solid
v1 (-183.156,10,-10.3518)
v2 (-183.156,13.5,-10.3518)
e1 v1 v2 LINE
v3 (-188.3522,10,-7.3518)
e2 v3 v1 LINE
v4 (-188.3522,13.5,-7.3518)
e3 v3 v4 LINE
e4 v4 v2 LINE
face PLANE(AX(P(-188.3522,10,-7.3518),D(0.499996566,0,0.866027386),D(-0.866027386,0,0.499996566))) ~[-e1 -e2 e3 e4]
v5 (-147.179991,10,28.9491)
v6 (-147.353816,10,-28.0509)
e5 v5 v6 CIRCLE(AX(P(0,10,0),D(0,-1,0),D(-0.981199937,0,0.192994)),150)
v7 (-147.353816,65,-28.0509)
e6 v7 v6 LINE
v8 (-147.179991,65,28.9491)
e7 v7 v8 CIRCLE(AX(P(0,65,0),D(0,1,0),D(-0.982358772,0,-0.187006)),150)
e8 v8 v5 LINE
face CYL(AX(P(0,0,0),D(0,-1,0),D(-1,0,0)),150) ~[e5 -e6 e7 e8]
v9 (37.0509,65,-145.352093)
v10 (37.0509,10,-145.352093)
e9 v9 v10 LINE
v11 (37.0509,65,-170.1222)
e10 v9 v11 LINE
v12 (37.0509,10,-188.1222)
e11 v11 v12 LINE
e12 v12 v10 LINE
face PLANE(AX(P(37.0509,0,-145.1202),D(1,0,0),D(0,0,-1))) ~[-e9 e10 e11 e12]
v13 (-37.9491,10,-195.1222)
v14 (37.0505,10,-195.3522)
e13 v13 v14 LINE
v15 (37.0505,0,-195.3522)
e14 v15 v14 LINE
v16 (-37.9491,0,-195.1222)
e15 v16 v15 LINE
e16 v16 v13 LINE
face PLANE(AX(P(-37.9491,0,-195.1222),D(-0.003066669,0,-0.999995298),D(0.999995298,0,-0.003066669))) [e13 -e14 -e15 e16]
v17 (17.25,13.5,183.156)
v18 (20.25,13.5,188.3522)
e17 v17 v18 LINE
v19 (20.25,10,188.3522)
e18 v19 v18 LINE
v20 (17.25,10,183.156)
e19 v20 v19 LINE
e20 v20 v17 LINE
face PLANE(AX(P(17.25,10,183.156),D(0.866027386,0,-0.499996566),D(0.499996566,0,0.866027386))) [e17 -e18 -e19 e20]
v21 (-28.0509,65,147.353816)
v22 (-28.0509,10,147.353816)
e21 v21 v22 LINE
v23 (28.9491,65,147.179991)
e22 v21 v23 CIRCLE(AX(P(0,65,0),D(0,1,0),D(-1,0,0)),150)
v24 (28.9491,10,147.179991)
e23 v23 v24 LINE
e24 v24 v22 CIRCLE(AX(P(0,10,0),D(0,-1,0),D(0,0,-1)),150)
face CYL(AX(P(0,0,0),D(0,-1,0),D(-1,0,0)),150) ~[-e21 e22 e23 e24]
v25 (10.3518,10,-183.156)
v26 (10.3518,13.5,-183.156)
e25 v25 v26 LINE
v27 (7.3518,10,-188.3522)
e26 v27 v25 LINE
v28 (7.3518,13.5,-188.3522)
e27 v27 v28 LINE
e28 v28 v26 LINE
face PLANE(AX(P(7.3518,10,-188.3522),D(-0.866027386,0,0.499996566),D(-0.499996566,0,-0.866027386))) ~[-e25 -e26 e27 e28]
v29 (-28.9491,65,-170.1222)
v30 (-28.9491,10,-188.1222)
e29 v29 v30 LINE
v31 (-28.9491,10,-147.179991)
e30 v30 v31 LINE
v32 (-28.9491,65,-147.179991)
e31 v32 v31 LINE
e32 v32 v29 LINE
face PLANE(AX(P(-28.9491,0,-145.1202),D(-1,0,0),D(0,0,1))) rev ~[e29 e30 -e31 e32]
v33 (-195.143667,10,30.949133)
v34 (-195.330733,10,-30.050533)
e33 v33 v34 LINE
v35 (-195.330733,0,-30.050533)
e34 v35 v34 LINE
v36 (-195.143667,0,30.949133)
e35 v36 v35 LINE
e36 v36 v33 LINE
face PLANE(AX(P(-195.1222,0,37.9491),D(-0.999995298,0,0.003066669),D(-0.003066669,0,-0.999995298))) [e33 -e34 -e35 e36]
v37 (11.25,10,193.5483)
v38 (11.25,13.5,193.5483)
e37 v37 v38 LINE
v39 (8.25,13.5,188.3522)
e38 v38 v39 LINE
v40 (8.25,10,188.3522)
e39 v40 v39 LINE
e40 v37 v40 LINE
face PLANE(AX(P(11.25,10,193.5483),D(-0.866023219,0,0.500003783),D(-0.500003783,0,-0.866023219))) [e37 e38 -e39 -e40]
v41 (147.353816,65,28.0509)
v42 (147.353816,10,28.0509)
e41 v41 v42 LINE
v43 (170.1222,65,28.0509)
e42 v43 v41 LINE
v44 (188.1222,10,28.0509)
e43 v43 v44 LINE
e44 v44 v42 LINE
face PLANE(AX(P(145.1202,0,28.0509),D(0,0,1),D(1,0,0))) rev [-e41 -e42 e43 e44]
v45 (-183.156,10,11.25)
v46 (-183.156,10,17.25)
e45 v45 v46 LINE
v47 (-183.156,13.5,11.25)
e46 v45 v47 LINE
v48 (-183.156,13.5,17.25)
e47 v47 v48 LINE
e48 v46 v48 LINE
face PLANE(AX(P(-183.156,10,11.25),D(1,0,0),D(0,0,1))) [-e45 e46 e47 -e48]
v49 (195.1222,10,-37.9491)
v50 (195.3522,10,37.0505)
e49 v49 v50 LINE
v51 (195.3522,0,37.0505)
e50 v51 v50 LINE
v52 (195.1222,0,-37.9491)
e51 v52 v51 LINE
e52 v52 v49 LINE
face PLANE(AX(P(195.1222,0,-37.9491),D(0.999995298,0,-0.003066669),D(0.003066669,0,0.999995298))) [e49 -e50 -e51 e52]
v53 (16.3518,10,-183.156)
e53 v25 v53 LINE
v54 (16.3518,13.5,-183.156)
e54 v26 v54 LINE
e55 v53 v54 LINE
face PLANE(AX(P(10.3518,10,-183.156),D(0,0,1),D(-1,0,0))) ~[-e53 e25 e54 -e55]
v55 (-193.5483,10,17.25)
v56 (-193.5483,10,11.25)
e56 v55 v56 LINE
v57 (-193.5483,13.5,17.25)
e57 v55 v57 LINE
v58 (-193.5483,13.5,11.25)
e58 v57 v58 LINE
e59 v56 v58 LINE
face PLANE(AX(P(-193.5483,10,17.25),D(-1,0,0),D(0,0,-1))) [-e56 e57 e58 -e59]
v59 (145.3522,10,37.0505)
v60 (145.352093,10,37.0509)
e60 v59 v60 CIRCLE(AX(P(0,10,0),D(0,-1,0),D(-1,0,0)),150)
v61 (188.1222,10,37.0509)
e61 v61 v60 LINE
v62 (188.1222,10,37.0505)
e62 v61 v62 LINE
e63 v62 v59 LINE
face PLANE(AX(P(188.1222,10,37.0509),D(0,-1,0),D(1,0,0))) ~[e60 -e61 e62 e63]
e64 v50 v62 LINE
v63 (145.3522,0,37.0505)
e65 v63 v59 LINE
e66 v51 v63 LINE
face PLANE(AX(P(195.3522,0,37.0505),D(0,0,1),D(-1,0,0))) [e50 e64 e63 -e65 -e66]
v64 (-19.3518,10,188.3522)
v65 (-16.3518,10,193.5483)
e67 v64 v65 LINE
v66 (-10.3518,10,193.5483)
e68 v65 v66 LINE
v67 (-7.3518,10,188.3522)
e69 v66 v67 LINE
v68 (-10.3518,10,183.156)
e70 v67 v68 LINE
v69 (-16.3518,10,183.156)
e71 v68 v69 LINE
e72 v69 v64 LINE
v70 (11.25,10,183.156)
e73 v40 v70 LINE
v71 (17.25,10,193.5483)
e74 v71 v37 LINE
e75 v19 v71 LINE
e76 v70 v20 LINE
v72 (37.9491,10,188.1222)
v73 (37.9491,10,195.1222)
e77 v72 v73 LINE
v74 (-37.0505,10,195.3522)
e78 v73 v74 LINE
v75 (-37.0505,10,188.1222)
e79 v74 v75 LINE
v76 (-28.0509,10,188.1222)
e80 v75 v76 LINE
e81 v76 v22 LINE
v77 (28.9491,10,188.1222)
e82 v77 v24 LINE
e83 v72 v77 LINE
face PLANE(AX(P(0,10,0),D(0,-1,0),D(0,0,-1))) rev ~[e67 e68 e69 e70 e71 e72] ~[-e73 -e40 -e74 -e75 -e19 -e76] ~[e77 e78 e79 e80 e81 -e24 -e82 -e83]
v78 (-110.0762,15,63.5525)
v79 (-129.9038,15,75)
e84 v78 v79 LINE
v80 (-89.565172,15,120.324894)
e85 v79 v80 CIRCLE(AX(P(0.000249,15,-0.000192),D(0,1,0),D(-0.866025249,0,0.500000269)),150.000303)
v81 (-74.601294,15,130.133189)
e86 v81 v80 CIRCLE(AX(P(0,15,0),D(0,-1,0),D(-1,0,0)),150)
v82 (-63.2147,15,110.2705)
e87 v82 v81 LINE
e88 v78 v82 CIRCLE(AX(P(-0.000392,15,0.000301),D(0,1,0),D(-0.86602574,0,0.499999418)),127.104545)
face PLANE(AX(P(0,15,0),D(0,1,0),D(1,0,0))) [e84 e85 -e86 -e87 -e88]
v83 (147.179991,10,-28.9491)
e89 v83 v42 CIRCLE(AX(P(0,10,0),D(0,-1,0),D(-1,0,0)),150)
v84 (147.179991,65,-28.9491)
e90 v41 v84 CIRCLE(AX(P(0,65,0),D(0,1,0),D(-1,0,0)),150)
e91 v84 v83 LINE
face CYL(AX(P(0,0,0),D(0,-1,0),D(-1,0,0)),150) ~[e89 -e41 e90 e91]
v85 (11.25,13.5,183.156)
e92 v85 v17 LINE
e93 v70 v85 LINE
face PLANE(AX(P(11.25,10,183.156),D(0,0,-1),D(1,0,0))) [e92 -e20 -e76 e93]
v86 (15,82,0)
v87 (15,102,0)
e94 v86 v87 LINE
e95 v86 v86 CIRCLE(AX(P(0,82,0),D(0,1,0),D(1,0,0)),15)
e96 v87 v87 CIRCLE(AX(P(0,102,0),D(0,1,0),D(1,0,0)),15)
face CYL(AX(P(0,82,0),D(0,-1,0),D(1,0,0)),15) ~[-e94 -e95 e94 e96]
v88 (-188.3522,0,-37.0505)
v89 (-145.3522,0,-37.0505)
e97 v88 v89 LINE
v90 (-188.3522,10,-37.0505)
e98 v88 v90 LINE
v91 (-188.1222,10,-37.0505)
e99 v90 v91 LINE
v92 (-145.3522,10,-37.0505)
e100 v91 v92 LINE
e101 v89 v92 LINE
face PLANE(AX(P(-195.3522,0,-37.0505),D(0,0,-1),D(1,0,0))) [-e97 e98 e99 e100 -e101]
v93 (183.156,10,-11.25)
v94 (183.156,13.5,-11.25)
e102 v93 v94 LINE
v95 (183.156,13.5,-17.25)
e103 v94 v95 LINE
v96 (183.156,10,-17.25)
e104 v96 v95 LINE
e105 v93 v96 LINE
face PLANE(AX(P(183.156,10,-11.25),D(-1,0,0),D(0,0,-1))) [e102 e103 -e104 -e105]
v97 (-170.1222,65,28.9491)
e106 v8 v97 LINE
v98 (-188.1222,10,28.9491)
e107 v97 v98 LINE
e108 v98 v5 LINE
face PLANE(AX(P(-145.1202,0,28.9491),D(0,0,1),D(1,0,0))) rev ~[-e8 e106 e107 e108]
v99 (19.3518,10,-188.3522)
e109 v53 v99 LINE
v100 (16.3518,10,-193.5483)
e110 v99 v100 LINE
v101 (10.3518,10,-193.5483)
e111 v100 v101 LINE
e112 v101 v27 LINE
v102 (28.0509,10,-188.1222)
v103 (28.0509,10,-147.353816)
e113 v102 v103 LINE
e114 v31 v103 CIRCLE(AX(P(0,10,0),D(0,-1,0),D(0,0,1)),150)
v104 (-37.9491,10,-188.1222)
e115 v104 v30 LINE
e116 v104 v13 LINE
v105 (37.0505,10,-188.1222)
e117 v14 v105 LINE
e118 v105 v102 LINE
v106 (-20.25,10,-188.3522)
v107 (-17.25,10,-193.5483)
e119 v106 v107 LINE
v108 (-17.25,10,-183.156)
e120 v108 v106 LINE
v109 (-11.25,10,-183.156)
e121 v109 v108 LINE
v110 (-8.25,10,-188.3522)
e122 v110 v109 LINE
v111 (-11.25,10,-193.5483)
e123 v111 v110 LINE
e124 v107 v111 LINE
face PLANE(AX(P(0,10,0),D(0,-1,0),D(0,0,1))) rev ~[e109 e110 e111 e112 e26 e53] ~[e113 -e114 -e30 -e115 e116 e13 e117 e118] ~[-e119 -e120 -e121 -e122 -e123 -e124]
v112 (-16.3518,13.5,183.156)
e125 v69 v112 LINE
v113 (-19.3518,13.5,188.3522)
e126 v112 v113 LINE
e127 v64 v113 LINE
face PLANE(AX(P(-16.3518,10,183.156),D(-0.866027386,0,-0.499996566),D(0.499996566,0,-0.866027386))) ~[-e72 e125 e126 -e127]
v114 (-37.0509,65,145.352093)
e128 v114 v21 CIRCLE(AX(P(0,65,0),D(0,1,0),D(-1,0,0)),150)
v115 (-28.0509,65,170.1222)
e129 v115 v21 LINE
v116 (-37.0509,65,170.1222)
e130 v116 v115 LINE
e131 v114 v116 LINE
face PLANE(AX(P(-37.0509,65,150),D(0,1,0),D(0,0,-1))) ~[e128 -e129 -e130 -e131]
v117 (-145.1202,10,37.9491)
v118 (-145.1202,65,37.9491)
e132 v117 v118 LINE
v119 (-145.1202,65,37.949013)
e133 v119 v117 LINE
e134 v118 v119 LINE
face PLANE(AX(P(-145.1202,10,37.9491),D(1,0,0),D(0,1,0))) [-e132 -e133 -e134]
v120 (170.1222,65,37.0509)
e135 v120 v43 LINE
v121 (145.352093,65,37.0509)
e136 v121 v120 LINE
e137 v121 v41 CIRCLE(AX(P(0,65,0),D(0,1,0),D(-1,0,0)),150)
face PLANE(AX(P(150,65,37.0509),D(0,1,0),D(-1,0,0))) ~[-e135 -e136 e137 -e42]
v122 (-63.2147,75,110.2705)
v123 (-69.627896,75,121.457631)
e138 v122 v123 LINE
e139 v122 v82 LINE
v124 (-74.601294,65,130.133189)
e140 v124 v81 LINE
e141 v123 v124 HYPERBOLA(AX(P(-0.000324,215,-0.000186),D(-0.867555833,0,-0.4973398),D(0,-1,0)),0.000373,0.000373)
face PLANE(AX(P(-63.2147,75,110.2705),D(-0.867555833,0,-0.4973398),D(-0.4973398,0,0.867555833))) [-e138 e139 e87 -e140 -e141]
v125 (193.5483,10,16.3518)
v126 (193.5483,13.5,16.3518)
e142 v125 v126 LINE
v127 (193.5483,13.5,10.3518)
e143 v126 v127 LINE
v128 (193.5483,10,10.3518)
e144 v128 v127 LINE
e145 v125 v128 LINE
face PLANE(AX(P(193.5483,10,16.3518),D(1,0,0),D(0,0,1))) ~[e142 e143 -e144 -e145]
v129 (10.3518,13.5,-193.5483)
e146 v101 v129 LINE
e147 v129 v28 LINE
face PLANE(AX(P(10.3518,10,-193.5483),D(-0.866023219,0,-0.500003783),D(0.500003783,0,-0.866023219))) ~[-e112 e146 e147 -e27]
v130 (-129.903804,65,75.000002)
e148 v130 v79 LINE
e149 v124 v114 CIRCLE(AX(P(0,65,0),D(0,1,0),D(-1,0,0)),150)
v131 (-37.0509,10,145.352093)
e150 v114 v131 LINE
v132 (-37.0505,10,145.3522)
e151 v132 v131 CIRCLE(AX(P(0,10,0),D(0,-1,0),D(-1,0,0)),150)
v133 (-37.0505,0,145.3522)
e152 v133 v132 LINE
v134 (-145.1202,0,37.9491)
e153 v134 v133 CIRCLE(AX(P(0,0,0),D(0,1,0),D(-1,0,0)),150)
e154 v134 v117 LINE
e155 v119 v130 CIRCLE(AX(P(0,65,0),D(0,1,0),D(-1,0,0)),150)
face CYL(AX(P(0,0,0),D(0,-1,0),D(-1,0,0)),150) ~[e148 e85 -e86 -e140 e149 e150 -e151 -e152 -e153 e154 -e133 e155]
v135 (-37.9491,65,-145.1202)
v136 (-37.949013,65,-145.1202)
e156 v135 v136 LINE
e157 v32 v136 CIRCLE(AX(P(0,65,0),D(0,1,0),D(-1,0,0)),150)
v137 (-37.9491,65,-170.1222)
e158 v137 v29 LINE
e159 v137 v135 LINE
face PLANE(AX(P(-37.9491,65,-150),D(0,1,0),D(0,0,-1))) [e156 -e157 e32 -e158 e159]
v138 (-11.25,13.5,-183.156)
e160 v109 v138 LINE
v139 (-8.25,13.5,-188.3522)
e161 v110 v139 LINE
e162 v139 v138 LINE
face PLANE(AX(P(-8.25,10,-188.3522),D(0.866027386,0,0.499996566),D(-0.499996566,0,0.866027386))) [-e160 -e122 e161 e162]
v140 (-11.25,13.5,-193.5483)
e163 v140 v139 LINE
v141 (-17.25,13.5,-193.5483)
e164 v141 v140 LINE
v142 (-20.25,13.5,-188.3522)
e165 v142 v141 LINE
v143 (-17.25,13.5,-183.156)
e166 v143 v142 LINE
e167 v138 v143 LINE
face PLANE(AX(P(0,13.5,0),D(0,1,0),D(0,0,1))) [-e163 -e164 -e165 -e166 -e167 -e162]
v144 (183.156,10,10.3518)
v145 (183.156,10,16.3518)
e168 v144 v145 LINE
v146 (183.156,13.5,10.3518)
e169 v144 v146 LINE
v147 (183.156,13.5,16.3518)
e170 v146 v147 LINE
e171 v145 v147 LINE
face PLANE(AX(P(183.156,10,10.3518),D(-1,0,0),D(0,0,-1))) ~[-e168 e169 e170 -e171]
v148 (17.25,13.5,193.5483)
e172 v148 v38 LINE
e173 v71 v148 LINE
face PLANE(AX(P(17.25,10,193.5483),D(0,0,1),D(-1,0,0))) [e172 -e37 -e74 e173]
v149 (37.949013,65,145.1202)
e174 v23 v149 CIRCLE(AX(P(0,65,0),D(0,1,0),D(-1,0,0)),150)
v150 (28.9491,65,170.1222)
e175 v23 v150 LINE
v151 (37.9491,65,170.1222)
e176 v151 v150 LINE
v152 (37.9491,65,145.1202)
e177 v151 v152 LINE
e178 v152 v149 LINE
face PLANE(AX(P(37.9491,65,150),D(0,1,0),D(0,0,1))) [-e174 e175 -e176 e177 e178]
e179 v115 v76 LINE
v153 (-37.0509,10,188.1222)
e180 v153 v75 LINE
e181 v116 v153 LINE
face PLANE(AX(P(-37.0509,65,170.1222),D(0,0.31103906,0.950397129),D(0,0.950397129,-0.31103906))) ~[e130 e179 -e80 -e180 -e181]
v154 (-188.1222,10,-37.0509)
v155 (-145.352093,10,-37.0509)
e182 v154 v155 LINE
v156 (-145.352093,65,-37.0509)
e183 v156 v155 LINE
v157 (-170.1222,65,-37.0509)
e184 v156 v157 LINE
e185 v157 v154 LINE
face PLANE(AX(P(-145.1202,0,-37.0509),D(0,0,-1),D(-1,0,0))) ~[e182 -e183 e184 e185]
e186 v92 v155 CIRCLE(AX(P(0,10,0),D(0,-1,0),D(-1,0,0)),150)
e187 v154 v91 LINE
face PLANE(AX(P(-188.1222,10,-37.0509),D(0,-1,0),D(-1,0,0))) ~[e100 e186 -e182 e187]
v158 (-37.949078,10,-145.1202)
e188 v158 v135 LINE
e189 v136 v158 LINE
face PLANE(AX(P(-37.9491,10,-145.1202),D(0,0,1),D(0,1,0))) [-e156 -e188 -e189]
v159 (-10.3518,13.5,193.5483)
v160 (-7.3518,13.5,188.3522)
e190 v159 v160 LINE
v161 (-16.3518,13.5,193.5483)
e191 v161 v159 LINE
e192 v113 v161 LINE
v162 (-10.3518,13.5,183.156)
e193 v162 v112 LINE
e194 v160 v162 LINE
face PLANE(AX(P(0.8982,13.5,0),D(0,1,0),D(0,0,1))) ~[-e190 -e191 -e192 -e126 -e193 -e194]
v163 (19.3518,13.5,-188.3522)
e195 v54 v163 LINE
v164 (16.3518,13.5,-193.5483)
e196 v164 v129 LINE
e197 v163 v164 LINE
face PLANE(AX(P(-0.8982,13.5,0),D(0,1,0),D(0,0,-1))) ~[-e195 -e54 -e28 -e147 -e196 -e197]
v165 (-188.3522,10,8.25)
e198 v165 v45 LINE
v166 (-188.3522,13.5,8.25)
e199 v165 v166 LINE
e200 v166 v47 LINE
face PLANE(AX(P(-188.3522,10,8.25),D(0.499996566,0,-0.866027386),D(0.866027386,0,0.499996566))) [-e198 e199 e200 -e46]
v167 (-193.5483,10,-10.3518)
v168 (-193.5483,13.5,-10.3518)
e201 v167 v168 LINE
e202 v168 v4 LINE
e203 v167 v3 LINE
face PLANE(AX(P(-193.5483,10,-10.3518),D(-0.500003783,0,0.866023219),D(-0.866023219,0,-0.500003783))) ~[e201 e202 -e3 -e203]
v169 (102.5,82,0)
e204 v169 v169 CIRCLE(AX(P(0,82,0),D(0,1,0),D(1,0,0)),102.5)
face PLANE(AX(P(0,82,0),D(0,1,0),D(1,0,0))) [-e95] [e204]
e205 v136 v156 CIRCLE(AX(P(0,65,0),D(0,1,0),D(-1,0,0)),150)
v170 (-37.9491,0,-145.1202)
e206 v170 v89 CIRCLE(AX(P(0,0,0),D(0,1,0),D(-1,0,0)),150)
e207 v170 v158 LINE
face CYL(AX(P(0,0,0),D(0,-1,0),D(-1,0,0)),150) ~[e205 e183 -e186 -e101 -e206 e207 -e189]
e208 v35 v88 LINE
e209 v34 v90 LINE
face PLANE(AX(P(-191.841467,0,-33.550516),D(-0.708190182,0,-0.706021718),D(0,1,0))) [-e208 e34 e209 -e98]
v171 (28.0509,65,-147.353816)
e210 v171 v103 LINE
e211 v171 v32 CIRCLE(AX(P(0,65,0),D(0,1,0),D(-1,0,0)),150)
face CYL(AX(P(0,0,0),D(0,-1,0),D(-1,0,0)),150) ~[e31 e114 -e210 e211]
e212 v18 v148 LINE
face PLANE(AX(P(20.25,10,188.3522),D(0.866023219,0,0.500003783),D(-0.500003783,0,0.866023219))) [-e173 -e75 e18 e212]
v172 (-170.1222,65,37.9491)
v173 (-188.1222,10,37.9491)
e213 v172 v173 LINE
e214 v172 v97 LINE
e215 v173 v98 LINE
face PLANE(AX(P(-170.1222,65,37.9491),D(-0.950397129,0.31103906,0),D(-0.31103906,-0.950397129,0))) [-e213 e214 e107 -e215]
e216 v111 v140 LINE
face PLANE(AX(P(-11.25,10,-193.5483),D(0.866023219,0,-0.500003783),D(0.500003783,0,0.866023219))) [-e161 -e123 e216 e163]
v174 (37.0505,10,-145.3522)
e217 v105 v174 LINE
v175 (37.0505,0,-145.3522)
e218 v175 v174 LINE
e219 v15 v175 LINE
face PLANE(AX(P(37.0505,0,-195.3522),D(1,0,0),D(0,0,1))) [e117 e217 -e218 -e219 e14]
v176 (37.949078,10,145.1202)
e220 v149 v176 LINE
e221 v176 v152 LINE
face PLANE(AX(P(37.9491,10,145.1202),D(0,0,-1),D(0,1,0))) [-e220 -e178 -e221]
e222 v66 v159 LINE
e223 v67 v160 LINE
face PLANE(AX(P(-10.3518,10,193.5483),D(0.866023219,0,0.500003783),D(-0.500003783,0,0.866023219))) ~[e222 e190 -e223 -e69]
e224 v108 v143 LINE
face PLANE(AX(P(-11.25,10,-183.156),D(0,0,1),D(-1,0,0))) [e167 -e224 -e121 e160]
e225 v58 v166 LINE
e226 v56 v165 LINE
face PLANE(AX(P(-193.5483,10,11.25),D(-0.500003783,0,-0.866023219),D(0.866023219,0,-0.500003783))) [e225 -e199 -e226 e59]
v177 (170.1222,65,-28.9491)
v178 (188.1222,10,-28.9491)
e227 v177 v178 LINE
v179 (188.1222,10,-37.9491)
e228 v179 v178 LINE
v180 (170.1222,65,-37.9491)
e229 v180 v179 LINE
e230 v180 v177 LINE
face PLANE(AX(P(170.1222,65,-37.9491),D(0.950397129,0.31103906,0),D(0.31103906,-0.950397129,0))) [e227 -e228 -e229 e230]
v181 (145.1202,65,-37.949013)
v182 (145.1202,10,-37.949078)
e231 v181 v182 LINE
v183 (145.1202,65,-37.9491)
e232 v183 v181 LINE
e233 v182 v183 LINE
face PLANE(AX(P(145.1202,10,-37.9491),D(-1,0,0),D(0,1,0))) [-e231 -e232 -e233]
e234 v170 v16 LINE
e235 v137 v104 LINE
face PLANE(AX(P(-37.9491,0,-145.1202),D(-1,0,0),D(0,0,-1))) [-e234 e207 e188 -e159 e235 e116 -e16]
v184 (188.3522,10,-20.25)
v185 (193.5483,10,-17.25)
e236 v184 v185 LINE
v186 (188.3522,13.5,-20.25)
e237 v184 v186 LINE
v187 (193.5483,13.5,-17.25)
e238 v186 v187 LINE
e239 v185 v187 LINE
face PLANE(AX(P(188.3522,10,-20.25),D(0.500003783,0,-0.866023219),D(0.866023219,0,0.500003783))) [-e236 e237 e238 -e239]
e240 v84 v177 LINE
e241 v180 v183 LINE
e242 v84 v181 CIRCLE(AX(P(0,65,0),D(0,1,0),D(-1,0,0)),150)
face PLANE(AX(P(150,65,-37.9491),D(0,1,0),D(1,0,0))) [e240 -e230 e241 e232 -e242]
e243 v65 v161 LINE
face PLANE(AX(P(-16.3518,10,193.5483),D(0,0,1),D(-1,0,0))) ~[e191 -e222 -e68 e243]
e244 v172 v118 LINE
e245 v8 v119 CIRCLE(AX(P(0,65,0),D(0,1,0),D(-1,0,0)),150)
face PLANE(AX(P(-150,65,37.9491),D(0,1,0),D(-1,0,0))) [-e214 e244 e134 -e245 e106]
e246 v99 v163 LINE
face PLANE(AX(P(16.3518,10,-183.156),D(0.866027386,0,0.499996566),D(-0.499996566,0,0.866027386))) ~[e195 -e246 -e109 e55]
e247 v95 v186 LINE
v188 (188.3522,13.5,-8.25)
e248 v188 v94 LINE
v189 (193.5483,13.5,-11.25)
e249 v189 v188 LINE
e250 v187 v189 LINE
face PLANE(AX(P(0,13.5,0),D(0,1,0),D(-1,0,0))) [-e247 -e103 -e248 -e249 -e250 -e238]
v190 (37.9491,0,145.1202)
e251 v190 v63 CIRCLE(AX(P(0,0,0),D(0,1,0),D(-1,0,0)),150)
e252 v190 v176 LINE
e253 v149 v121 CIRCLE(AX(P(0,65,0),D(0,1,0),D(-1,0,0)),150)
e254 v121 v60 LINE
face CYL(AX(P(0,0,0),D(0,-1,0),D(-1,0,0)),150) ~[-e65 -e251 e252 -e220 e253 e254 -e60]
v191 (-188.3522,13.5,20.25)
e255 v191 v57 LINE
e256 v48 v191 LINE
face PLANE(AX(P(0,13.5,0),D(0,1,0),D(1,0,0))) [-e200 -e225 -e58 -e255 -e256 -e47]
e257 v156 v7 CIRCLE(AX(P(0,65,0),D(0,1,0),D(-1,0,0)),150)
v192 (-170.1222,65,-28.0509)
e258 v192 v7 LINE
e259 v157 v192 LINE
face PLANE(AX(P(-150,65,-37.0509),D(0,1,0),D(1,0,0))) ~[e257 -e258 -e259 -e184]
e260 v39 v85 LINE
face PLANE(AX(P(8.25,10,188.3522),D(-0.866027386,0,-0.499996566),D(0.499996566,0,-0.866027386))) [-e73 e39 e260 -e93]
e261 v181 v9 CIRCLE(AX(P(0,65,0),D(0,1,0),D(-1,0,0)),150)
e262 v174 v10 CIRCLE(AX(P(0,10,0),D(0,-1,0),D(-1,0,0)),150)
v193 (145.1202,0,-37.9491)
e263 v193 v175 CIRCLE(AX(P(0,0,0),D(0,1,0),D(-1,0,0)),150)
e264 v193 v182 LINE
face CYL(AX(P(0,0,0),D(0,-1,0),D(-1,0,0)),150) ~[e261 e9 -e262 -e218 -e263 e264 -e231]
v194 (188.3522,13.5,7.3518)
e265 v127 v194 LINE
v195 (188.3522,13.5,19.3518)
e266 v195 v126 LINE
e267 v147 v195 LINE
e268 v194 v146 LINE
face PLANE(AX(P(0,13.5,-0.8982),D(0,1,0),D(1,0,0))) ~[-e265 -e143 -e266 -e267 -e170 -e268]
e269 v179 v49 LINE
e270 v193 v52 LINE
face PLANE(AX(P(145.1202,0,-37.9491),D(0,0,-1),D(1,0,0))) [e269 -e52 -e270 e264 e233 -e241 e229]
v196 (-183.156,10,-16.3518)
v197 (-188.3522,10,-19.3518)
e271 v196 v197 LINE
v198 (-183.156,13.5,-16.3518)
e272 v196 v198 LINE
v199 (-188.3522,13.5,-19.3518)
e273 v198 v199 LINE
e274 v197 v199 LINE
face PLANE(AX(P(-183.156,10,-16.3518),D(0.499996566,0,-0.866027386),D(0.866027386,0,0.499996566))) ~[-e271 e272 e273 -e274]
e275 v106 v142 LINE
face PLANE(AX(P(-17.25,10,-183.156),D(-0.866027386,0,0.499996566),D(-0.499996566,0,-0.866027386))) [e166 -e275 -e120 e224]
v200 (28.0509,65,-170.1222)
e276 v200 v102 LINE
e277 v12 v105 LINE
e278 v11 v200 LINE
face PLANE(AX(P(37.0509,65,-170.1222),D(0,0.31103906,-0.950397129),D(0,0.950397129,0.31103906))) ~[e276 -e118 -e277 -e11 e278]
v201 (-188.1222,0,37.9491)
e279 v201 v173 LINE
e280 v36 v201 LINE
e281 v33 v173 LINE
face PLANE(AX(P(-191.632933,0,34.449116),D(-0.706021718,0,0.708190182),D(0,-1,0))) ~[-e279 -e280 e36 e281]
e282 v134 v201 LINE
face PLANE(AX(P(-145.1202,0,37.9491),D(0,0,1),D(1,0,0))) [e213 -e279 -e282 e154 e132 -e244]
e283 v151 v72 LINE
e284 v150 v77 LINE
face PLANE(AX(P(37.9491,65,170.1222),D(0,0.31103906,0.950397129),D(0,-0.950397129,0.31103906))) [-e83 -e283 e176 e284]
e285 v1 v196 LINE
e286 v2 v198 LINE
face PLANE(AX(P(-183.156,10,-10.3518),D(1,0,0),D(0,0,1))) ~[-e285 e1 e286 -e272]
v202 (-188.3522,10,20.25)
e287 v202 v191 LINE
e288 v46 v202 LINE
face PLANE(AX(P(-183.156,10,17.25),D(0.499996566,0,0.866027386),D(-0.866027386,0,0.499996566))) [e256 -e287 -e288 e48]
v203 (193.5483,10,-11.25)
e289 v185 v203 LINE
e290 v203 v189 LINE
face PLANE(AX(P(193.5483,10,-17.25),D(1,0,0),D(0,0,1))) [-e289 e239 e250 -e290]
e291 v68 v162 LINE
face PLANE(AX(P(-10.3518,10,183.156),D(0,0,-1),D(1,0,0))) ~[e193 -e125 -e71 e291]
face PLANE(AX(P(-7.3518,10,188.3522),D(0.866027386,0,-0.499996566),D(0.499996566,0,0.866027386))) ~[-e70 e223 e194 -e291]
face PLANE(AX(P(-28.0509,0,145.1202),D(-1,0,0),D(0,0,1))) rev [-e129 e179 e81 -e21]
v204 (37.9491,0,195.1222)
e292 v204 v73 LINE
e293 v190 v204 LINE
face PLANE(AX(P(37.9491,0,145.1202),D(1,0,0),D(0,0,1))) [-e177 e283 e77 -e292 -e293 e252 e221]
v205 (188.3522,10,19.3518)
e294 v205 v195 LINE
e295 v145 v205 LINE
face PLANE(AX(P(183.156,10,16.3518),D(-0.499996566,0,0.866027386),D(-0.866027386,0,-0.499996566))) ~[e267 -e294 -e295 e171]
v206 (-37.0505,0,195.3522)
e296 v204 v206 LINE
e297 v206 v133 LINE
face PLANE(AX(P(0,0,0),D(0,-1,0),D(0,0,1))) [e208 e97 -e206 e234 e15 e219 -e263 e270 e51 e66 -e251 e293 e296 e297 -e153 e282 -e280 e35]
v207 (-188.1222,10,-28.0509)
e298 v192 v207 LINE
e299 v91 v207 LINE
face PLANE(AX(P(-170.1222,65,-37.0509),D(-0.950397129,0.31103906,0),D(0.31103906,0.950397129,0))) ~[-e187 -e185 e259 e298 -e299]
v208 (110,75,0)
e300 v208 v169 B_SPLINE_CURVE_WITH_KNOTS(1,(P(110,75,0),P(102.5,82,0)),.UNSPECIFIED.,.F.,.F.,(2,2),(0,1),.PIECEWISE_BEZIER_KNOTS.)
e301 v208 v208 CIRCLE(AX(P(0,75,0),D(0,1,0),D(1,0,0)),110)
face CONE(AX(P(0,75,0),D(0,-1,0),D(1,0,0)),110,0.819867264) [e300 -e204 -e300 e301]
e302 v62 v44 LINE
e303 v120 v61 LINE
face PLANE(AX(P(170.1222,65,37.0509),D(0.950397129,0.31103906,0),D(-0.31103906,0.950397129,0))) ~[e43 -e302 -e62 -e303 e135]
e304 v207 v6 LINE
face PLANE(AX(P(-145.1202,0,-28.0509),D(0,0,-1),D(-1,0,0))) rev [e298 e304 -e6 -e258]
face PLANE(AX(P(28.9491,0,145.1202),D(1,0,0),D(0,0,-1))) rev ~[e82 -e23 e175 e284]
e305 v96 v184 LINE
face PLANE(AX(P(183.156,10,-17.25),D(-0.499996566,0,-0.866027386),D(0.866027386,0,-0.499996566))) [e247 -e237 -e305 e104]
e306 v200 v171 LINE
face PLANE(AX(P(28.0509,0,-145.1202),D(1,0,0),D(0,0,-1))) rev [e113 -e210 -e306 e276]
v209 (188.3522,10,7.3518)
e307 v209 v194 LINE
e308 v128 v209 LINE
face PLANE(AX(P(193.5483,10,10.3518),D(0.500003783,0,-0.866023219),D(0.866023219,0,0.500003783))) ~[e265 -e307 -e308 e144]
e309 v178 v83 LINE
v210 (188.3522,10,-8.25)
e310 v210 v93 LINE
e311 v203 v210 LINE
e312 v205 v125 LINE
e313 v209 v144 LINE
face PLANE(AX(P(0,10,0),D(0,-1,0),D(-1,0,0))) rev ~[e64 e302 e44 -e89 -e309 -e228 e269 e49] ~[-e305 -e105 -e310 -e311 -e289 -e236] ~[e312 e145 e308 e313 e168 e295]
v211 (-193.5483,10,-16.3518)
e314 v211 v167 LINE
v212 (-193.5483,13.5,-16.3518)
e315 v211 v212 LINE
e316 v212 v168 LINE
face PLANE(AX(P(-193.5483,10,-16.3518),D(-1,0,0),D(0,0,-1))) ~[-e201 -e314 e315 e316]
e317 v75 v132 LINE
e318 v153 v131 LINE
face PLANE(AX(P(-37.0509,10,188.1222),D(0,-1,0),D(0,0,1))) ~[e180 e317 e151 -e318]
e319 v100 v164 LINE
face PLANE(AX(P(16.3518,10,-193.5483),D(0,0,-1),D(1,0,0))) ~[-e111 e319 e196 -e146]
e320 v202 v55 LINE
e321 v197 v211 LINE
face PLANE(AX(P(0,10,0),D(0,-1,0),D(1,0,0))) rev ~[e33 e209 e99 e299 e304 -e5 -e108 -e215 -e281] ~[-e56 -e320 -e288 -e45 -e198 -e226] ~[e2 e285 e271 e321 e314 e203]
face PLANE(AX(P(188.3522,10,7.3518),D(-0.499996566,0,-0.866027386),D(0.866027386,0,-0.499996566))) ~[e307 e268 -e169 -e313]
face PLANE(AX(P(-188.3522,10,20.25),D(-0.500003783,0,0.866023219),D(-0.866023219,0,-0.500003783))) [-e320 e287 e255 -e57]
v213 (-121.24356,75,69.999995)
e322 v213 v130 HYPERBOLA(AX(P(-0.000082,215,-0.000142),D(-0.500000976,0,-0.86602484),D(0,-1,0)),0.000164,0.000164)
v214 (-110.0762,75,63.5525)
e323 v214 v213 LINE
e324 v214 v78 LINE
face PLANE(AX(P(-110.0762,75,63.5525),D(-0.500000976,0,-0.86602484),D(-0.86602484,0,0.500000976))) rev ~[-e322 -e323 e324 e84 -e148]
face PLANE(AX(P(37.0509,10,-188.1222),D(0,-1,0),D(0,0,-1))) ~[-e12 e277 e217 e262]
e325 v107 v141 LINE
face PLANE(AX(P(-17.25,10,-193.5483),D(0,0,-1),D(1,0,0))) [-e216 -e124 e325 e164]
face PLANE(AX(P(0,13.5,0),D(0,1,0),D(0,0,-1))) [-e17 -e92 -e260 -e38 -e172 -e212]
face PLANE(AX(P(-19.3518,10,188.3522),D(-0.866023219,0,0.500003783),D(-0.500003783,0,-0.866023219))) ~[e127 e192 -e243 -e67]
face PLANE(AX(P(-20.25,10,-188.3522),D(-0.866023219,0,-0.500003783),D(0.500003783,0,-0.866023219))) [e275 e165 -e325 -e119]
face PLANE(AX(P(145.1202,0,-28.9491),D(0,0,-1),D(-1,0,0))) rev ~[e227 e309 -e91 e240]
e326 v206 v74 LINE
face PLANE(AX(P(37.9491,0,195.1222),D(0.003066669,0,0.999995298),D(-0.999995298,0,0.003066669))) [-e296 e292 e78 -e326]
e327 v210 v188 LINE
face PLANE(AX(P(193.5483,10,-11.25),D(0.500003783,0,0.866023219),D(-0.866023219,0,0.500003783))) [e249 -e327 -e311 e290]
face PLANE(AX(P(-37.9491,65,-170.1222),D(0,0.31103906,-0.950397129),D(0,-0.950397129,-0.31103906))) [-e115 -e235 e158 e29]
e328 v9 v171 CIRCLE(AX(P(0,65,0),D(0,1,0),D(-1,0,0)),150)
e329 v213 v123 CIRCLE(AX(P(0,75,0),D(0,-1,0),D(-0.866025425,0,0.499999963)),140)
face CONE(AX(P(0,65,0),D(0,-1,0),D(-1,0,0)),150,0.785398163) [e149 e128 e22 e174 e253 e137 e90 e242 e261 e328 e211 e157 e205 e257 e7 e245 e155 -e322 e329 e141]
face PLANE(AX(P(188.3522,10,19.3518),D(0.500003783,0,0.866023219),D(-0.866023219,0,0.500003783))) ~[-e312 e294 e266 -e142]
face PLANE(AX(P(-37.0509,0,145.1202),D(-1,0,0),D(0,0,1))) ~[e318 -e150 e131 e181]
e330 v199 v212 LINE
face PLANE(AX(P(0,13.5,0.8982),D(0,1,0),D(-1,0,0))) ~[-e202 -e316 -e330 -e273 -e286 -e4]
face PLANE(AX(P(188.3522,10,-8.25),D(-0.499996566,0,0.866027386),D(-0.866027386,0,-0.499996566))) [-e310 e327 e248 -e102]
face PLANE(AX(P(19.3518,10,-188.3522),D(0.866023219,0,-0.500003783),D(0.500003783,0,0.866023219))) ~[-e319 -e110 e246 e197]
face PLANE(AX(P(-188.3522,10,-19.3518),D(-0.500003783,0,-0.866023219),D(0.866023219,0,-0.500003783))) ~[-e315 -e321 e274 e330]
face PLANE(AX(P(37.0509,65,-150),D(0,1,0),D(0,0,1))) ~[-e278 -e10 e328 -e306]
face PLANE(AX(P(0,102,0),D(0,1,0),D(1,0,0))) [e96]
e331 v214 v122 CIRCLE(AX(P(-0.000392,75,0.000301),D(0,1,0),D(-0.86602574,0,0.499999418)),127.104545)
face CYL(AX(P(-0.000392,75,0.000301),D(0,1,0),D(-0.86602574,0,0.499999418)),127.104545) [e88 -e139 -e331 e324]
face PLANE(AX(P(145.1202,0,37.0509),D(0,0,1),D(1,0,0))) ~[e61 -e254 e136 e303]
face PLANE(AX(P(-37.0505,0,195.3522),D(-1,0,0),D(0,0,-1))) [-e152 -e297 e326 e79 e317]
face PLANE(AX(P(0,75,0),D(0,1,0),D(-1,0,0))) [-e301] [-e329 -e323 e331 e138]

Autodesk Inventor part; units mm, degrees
ref_plane "YZ Plane" through (0, 0, 0) normal (1, 0, 0) x (0, 1, 0)
sketch "Sketch1" plane through (0, 0, 0) normal (0, 1, 0) x (-1, 0, 0)
  circle A0 centre (0, 0) radius 150
  dimension "d0" = 300
extrude "Extrusion1" add sketch "Sketch1" along normal blind 75
chamfer "Chamfer1" distance 10 angle 45 1 edges at (150, 75, 0)
sketch "Sketch2" plane through (0, 0, 0) normal (0, -1, 0) x (1, 0, 0)
  line L0 (-195.3522, -37.0505) -> (-145.3522, -37.0505)
  line L1 (-145.1202, 37.9491) -> (-195.1222, 37.9491)
  line L2 (-195.1222, 37.9491) -> (-195.3522, -37.0505)
  circle A0 centre (0, 0) radius 150 projected
  line L3 (-195.3522, -37.0505) -> (-116.2547, 27.9738) construction
  line L4 (-116.2547, -27.9738) -> (-195.1222, 37.9491) construction
  arc A1 (-145.1202, 37.9491) -> (-145.3522, -37.0505) centre (0, 0) ccw
  point P0 (-149.9998, 0.2327)
  dimension "d9" = 75
  dimension "d10" = 50
extrude "Extrusion2" add sketch "Sketch2" against normal blind 10 contours L2 L1 A0 L0
chamfer "Chamfer2" distance 7 angle 45 2 edges at (-195.1222, 5, 37.9491) (-195.3522, 5, -37.0505)
sketch "Sketch3" plane through (-145.1202, 0, 37.9491) normal (0, 0, 1) x (1, 0, 0)
  line L0 (-43.002, 10) -> (0, 10) projected
  line L1 (-43.002, 10) -> (0, 10)
  line L2 (0, 10) -> (0, 65)
  line L3 (295.1202, 65) -> (-4.8798, 65) projected
  line L4 (0, 65) -> (-25.002, 65)
  line L5 (-25.002, 65) -> (-43.002, 10)
  point P0 (145.1202, 0)
  point P1 (-0.232, 10)
  dimension "d16" = 18
extrude "Extrusion3" add sketch "Sketch3" against normal blind 9
sketch "Sketch4" plane through (0, 10, 0) normal (0, 1, 0) x (1, 0, 0)
  line L0 (-145.3522, 37.0505) -> (-188.3522, 37.0505) projected
  line L1 (-188.3522, 37.0505) -> (-188.3522, -49.5813)
  line L2 (-188.1222, -37.9491) -> (-188.1222, -28.9491) projected
  line L3 (-188.3522, 0) -> (-188.3522, -14.25)
  line L4 (-188.3522, -8.25) -> (-183.156, -11.25)
  line L5 (-183.156, -11.25) -> (-183.156, -17.25)
  line L6 (-183.156, -17.25) -> (-188.3522, -20.25)
  line L7 (-188.3522, -20.25) -> (-193.5483, -17.25)
  line L8 (-193.5483, -17.25) -> (-193.5483, -11.25)
  line L9 (-193.5483, -11.25) -> (-188.3522, -8.25)
  point P0 (0, 0)
  dimension "d19" = 14.25
  dimension "d20" = 6
extrude "Extrusion4" add sketch "Sketch4" along normal blind 3.5
sketch "Sketch5" plane through (0, 10, 0) normal (0, 1, 0) x (1, 0, 0)
  point P0 (0, 0)
ref_plane "Work Plane1" through (-188.1222, 0, 0.4491) normal (0, 0, 1) x (1, 0, 0)
mirror "Mirror1" about plane through (-188.1222, 0, 0.4491) normal (0, 0, 1) of "Extrusion3", "Extrusion4"
pattern_circular "Circular Pattern1" count 4 over 360 about axis through (0, 0, 0) along (0, 1, 0) of "Extrusion3", "Extrusion4", "Mirror1", "Extrusion2"
sketch "Sketch6" plane through (0, 75, 0) normal (0, 1, 0) x (1, 0, 0)
  line L0 (-37.0505, -195.3522) -> (37.9491, -195.1222) projected
  line L1 (-110.0762, -63.5525) -> (-129.9038, -75)
  line L2 (-63.2147, -110.2705) -> (-74.6013, -130.1332)
  arc A0 (-110.0762, -63.5525) -> (-63.2147, -110.2705) centre (0, 0) ccw
  arc A1 (-129.9038, -75) -> (-74.6013, -130.1332) centre (0, 0) ccw
extrude "Extrusion5" cut sketch "Sketch6" against normal blind 60
sketch "Sketch7" plane through (0, 75, 0) normal (0, 1, 0) x (1, 0, 0)
  circle A0 centre (0, 0) radius 110
  dimension "d31" = 220
ref_plane "Work Plane2" through (0, 82, 0) normal (0, 1, 0) x (1, 0, 0)
sketch "Sketch8" plane through (0, 82, 0) normal (0, 1, 0) x (1, 0, 0)
  circle A0 centre (0, 0) radius 102.5
  dimension "d33" = 205
loft "Loft1" add profiles "Sketch7", "Sketch8"
sketch "Sketch9" plane through (0, 82, 0) normal (0, 1, 0) x (1, 0, 0)
  circle A0 centre (0, 0) radius 15
  dimension "d38" = 30
extrude "Extrusion6" add sketch "Sketch9" along normal blind 20
sketch "Sketch10" plane through (0, 102, 0) normal (0, 1, 0) x (1, 0, 0)
  circle A0 centre (0, 0) radius 15 projected
  point P0 (398.7645, 0)
  point P1 (398.7645, 0)
properties part number "base"
